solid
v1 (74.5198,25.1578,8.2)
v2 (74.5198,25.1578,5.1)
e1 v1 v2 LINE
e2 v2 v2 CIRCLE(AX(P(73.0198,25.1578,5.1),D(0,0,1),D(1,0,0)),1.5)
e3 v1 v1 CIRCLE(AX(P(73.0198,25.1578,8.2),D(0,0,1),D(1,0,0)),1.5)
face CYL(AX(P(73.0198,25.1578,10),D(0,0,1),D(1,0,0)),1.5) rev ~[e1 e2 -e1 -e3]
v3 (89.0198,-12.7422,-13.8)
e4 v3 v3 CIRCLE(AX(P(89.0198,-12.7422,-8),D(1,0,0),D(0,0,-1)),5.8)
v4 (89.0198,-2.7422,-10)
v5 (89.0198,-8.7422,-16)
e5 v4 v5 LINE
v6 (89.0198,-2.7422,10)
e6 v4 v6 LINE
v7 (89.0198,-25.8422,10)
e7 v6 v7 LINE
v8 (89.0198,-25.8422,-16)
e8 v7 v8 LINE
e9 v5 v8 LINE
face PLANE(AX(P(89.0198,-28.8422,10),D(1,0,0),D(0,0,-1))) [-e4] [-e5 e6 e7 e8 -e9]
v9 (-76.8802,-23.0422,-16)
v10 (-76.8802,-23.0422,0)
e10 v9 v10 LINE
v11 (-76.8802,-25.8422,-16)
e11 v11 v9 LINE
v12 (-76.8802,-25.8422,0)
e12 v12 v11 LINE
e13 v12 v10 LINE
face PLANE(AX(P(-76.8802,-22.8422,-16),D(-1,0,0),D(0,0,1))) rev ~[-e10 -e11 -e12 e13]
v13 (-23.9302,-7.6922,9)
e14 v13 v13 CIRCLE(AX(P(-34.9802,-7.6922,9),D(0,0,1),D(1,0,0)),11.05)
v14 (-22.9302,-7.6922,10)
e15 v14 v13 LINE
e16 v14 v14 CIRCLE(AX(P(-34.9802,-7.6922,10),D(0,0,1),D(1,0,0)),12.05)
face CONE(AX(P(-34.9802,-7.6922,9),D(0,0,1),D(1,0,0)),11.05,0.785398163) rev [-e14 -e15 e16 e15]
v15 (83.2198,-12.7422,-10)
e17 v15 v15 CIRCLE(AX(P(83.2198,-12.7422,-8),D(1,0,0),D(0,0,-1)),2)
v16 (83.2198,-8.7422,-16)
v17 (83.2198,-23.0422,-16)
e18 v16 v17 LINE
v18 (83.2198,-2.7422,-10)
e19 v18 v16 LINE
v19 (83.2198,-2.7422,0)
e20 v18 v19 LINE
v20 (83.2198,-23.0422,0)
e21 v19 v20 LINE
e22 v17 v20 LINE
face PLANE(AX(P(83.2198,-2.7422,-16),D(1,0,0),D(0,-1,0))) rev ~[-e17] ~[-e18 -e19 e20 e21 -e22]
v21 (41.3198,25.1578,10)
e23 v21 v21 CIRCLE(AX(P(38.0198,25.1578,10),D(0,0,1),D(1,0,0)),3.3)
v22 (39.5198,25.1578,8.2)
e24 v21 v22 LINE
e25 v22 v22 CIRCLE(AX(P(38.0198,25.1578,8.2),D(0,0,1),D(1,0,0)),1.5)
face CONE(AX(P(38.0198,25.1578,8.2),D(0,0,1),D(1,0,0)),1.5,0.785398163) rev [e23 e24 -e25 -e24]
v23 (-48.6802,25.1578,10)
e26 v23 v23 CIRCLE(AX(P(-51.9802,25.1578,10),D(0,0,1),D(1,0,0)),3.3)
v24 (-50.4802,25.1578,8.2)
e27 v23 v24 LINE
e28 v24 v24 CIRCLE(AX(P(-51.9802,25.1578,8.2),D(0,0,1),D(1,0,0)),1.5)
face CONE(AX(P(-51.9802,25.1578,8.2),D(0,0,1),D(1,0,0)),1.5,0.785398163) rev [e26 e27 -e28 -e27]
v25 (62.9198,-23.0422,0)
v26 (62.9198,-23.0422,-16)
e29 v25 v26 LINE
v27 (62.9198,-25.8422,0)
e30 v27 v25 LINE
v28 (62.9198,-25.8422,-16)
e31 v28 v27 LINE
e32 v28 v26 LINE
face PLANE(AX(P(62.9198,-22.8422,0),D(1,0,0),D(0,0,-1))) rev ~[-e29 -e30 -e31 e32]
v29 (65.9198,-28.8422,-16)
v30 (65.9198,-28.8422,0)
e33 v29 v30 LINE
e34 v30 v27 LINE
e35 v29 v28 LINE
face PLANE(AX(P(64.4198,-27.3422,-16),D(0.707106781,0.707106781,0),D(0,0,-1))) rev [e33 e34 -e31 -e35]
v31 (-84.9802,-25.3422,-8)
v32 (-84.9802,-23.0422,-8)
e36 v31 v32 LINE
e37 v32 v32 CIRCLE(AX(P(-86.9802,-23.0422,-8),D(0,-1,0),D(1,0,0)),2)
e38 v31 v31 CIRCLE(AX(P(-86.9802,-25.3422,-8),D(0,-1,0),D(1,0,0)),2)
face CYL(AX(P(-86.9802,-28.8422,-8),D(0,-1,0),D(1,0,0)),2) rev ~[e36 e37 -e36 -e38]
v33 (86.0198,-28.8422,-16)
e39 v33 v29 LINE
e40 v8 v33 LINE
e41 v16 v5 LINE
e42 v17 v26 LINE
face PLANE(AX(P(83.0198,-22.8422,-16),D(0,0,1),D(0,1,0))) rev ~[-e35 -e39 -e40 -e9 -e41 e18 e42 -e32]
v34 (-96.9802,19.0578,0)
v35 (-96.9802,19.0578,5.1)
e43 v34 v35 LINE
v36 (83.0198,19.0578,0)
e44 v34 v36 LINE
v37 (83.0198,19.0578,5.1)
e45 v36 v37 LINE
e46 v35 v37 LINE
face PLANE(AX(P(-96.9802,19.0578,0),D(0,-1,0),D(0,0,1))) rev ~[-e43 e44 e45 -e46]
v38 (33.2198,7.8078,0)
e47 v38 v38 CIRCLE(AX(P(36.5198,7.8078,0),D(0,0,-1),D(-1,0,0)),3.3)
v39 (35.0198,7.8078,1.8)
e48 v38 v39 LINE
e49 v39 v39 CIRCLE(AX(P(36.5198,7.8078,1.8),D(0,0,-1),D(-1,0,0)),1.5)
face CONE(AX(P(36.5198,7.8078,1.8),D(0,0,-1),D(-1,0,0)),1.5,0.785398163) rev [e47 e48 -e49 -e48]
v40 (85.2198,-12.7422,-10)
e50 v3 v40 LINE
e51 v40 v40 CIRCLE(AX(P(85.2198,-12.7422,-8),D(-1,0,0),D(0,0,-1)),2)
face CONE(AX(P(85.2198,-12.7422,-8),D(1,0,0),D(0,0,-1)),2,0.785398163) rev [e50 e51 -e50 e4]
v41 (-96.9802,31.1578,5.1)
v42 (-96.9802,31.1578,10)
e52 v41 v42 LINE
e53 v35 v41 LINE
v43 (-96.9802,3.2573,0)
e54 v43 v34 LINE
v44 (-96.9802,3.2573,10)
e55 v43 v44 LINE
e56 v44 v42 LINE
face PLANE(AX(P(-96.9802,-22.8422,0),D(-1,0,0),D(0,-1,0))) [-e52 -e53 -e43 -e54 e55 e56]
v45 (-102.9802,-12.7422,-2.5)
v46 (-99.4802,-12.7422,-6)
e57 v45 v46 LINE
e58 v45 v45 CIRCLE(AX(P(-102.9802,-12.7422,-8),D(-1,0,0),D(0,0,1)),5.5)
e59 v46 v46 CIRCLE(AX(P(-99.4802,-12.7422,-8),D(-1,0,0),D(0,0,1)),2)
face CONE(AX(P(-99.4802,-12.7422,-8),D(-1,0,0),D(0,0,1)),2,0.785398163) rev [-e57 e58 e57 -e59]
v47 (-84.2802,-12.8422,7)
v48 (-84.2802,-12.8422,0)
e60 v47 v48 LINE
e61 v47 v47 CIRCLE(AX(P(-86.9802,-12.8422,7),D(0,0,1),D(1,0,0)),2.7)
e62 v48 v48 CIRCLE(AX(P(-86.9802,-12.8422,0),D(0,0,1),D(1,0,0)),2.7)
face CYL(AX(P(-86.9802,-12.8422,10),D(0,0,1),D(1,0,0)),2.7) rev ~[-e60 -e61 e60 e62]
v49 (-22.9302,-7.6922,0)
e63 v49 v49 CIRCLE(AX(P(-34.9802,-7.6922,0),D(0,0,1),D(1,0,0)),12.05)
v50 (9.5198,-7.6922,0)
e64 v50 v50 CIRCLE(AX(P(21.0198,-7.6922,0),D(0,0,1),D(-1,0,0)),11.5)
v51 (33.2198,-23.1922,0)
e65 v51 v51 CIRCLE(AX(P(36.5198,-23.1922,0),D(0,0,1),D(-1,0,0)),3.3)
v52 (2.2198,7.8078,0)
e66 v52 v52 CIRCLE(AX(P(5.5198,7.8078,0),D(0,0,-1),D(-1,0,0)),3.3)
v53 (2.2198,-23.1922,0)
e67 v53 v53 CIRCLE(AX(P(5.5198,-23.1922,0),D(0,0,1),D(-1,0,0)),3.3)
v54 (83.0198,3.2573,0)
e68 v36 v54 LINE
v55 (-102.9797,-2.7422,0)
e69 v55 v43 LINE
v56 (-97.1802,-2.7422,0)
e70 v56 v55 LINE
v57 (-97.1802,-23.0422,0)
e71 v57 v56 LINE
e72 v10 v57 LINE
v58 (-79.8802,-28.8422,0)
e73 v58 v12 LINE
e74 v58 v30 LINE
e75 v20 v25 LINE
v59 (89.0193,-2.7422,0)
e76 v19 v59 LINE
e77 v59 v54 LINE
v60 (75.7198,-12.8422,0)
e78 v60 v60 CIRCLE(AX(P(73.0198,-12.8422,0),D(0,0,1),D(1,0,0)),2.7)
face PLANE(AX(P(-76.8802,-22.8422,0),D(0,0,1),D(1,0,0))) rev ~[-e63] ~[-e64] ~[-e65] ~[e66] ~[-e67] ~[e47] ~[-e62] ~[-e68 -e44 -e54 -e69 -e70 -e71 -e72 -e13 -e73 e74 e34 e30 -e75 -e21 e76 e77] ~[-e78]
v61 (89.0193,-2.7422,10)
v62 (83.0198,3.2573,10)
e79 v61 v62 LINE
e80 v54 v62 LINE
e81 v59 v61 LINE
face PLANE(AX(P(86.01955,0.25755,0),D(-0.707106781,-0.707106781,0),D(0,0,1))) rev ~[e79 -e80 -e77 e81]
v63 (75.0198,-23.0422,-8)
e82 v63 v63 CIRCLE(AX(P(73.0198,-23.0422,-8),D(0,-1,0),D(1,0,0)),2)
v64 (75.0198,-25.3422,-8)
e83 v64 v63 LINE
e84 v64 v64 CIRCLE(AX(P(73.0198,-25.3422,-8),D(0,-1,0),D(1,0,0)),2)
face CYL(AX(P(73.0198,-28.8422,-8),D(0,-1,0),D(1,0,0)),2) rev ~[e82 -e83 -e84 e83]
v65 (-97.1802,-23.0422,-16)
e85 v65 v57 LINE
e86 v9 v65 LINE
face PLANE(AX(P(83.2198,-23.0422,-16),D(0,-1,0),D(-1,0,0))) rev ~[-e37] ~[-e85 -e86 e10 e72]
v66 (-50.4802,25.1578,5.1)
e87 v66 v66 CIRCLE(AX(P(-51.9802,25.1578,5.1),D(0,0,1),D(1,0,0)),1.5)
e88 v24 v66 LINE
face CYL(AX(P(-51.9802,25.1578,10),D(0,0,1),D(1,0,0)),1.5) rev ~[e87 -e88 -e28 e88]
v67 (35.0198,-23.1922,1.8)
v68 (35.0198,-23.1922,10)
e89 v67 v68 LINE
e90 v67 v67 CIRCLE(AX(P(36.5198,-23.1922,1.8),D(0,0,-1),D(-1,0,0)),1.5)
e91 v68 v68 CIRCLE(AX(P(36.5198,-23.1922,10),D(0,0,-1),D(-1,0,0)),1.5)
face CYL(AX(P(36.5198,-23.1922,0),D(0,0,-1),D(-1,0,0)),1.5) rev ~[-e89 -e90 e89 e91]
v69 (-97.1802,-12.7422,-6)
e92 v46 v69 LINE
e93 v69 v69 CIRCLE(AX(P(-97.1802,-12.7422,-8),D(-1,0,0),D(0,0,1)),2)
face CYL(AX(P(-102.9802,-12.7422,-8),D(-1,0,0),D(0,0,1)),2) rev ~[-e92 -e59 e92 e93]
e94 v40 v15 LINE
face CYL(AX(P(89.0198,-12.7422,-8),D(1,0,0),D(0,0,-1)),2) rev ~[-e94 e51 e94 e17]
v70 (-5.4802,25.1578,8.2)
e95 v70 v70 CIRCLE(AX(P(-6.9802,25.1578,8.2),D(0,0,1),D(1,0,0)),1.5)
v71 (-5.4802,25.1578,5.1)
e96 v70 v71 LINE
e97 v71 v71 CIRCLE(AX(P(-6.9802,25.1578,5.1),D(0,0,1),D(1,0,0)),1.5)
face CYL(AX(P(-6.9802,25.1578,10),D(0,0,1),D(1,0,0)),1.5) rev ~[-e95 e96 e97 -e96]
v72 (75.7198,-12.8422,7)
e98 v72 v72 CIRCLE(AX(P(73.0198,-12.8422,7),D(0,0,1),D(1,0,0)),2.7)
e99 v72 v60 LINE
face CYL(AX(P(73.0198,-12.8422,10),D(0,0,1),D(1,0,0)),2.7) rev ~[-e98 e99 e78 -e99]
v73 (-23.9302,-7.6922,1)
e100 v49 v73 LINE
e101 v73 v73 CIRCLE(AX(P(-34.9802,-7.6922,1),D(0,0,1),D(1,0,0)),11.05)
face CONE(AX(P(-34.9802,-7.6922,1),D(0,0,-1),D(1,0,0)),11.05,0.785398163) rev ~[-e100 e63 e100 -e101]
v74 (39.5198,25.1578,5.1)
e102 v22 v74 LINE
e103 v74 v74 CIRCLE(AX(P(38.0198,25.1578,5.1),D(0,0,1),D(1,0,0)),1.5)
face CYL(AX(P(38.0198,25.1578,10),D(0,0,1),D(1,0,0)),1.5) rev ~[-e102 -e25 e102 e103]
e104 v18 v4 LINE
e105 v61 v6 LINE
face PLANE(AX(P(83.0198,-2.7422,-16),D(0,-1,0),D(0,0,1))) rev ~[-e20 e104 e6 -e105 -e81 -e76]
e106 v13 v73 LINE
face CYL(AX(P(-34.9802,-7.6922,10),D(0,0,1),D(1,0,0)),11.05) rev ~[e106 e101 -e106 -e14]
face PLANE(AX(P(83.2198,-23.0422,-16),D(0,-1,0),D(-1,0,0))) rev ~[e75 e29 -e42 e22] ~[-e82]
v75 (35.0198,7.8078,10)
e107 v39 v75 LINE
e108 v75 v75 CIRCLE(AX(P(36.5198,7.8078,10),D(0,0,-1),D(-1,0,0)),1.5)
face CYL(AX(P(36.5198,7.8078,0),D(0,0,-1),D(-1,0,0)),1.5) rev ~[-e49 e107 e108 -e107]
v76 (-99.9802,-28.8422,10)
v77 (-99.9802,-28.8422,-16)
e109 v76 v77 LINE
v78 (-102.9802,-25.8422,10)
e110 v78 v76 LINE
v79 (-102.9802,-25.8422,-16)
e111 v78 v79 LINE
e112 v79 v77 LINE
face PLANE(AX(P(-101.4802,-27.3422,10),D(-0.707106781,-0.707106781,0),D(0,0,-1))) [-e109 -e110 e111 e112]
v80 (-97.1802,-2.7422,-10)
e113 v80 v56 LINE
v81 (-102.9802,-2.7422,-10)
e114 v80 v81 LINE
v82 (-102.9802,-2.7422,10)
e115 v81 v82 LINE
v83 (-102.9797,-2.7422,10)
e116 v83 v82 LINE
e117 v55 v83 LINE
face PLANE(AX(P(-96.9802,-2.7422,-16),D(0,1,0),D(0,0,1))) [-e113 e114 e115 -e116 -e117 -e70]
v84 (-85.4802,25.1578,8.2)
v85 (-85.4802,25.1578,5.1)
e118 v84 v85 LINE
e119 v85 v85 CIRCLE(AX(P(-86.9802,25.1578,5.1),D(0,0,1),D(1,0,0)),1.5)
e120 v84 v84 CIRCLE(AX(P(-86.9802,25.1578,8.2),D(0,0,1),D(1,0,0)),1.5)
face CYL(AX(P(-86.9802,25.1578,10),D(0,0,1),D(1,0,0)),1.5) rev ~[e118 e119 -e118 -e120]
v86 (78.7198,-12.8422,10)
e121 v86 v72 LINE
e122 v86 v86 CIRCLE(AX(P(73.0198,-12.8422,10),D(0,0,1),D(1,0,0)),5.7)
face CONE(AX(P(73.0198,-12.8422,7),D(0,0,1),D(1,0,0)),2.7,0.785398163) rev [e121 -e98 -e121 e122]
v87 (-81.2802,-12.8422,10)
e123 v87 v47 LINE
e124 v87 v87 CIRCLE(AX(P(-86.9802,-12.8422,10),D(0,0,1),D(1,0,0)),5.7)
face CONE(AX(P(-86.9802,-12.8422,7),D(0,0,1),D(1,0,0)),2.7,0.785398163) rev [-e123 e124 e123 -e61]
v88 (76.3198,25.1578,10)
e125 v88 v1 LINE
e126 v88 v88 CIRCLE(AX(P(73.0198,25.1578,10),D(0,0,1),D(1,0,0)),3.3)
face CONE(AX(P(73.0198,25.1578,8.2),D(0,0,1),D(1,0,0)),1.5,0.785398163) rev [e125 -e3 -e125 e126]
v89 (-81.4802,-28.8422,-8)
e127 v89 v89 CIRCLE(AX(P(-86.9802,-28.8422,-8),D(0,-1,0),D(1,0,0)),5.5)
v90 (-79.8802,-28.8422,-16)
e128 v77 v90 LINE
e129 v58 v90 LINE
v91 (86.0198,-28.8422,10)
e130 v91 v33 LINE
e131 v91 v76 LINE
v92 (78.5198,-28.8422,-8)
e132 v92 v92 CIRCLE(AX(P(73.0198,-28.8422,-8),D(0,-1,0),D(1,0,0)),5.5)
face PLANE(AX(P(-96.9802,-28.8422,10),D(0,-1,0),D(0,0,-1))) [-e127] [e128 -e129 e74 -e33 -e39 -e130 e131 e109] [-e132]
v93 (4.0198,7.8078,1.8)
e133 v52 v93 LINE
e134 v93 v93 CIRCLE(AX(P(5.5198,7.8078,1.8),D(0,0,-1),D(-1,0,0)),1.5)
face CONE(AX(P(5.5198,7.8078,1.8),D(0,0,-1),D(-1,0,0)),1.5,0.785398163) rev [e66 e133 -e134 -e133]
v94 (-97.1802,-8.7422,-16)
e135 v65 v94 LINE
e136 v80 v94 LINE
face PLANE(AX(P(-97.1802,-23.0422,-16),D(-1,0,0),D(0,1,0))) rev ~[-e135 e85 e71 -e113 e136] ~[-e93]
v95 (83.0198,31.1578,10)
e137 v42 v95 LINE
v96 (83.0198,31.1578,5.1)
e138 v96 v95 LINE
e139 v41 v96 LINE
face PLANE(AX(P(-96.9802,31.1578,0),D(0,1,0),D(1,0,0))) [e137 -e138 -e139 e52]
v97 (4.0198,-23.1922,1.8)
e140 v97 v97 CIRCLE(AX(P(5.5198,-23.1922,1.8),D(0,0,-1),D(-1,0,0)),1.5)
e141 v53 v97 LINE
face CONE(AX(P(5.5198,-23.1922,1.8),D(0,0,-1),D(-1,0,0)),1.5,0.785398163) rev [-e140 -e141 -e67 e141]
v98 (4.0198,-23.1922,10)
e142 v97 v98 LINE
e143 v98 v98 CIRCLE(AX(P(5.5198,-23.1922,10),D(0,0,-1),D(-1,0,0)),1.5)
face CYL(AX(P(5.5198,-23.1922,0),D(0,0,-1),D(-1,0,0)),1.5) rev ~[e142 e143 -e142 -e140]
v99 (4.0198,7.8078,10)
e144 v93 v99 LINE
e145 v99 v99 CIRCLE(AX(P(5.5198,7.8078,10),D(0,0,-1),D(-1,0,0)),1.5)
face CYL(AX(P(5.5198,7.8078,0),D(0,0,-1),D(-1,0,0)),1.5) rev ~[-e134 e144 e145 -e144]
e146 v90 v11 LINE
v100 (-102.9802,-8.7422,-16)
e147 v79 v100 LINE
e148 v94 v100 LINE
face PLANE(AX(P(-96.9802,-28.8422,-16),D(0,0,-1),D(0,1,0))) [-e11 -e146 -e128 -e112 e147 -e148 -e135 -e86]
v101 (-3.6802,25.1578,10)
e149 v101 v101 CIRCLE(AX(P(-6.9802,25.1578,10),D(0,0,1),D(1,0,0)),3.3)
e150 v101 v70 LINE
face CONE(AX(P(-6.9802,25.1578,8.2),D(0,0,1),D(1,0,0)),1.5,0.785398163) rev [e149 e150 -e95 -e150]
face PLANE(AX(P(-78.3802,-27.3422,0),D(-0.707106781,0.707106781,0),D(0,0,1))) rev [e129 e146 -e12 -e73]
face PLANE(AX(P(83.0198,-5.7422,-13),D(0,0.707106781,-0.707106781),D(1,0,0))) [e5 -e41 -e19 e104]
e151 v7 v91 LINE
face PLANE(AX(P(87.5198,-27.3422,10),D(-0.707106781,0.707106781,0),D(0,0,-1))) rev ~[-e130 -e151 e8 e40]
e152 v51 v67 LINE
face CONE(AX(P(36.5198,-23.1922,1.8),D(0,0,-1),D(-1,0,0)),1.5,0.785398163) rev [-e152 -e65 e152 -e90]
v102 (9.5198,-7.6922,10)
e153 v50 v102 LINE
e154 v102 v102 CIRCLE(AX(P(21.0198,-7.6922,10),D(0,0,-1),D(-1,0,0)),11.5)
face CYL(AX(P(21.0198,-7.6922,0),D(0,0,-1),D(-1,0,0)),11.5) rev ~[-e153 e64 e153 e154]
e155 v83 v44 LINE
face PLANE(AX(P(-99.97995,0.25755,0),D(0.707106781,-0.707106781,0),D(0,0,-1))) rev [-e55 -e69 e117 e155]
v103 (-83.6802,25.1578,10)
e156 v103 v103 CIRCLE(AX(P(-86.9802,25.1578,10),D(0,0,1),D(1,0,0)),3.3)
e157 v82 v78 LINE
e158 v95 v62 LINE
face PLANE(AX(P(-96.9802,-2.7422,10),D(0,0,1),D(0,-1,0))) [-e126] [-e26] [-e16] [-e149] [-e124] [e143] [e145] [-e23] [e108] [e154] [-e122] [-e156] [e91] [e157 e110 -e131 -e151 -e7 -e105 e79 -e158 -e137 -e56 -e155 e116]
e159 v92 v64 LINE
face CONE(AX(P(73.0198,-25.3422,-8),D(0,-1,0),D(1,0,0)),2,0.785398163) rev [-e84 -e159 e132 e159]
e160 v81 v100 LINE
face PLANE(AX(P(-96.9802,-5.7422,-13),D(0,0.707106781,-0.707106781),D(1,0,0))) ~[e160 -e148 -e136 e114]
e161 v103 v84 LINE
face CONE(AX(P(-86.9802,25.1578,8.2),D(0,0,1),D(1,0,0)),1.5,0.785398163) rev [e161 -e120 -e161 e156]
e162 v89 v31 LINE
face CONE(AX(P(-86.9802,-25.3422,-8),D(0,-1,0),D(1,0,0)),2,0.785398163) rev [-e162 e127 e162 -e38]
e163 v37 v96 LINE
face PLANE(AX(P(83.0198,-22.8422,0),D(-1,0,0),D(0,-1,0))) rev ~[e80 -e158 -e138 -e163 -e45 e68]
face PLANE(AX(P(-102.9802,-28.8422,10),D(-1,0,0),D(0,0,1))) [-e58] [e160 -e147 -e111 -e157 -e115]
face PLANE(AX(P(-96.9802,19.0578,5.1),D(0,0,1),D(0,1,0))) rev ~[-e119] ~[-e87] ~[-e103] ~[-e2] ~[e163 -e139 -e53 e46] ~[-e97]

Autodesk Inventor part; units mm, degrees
ref_plane "YZ Plane" through (0, 0, 0) normal (1, 0, 0) x (0, 1, 0)
ref_plane "XZ Plane" through (0, 0, 0) normal (0, 1, 0) x (-1, 0, 0)
ref_plane "XY Plane" through (0, 0, 0) normal (0, 0, 1) x (1, 0, 0)
sketch "Sketch1" plane through (0, 0, 0) normal (0, 0, 1) x (1, 0, 0)
  line L0 (-96.9802, 31.1578) -> (83.0198, 31.1578)
  line L1 (83.0198, 31.1578) -> (83.0198, -28.8422)
  line L2 (83.0198, -28.8422) -> (-96.9802, -28.8422)
  line L3 (-96.9802, -28.8422) -> (-96.9802, 31.1578)
  point P0 (0, 0)
  dimension "d0" = 180
  dimension "d1" = 60
extrude "Extrusion1" add sketch "Sketch1" along normal blind 10
sketch "Sketch4" plane through (0, 0, 0) normal (0, 0, -1) x (-1, 0, 0)
  circle A0 centre (-21.0198, -7.6922) radius 11.5
  line L0 (96.9802, -28.8422) -> (-83.0198, -28.8422) projected
  line L1 (-83.0198, -28.8422) -> (-83.0198, 31.1578) projected
  point P0 (0, 0)
  dimension "d16" = 23
  dimension "d17" = 21.15
  dimension "d18" = 62
extrude "Extrusion4" cut sketch "Sketch4" against normal through all
sketch "Sketch5" plane through (0, 0, 0) normal (0, 0, -1) x (-1, 0, 0)
  line L0 (96.9802, -28.8422) -> (-83.0198, -28.8422) projected
  line L1 (96.9802, 31.1578) -> (96.9802, -28.8422) projected
  line L2 (-83.0198, -28.8422) -> (96.9802, -28.8422)
  line L3 (96.9802, -28.8422) -> (96.9802, -22.8422)
  line L4 (96.9802, -22.8422) -> (-83.0198, -22.8422)
  line L5 (-83.0198, -22.8422) -> (-83.0198, -28.8422)
  point P0 (0, 0)
  dimension "d21" = 6
extrude "Extrusion5" add sketch "Sketch5" along normal blind 16
sketch "Sketch6" plane through (-96.9802, -22.8422, 0) normal (0, 1, 0) x (1, 0, 0)
  line L0 (180, 16) -> (0, 16) projected
  line L1 (180, 0) -> (0, 0) projected
  line L2 (165.9, 16) -> (159.9, 16)
  line L3 (159.9, 16) -> (159.9, 0)
  line L4 (159.9, 0) -> (165.9, 0)
  line L5 (165.9, 0) -> (165.9, 16)
  line L6 (14.1, 16) -> (20.1, 16)
  line L7 (20.1, 16) -> (20.1, 0)
  line L8 (20.1, 0) -> (14.1, 0)
  line L9 (14.1, 0) -> (14.1, 16)
  line L10 (0, 0) -> (0, 16) projected
  line L11 (180, 0) -> (180, 16) projected
  point P0 (96.9802, 0)
  point P1 (14.1, 16)
  point P2 (14.1, 0)
  point P3 (20.1, 16)
  point P4 (165.9, 0)
  dimension "d24" = 14.1
  dimension "d25" = 6
  dimension "d26" = 14.1
  dimension "d27" = 6
extrude "Extrusion6" add sketch "Sketch6" along normal blind 20 contours L5 L1 L3 L0 | L7 L1 L9 L0
sketch "Sketch7" plane through (-76.8802, -22.8422, 0) normal (0, 1, 0) x (1, 0, 0)
  line L0 (0, 16) -> (139.8, 16) projected
  line L1 (0, 16) -> (0, 0) projected
  line L2 (139.8, 16) -> (0, 16)
  line L3 (0, 16) -> (0, 0)
  line L4 (0, 0) -> (139.8, 0)
  line L5 (139.8, 0) -> (139.8, 16)
  point P0 (76.8802, 0)
extrude "Extrusion7" cut sketch "Sketch7" against normal through all
chamfer "Chamfer1" distance 3 angle 45 2 edges at (62.9198, -28.8422, -8) (-76.8802, -28.8422, -8)
sketch "Sketch8" plane through (0, 0, 10) normal (0, 0, 1) x (1, 0, 0)
  circle A0 centre (-34.9802, -7.6922) radius 11.05
  line L0 (-96.9802, -28.8422) -> (83.0198, -28.8422) projected
  line L1 (-96.9802, 31.1578) -> (-96.9802, -28.8422) projected
  point P0 (0, 0)
  dimension "d35" = 22.1
  dimension "d36" = 21.15
  dimension "d37" = 62
extrude "Extrusion8" cut sketch "Sketch8" against normal through all
chamfer "Chamfer2" distance 1 angle 45 2 edges at (-46.0302, -7.6922, 10) (-46.0302, -7.6922, 0)
sketch "Sketch9" plane through (-96.9802, -28.8422, 10) normal (0, -1, 0) x (1, 0, 0)
  circle A0 centre (10, -18) radius 2
  circle A1 centre (170, -18) radius 2
  line L0 (180, -26) -> (180, 0) projected
  line L1 (0, 0) -> (0, -26) projected
  line L2 (17.1, -26) -> (0, -26) projected
  line L3 (180, -26) -> (162.9, -26) projected
  point P0 (96.9802, -10)
  dimension "d43" = 4
  dimension "d44" = 10
  dimension "d45" = 4
  dimension "d46" = 10
  dimension "d47" = 8
  dimension "d48" = 8
extrude "Extrusion9" cut sketch "Sketch9" against normal through all
chamfer "Chamfer3" distance 3.5 angle 45 2 edges at (71.0198, -28.8422, -8) (-88.9802, -28.8422, -8)
sketch "Sketch10" plane through (0, 0, 10) normal (0, 0, 1) x (1, 0, 0)
  circle A0 centre (-86.9802, 25.1578) radius 1.5
  circle A1 centre (-51.9802, 25.1578) radius 1.5
  circle A2 centre (-6.9802, 25.1578) radius 1.5
  circle A3 centre (38.0198, 25.1578) radius 1.5
  circle A4 centre (73.0198, 25.1578) radius 1.5
  line L0 (83.0198, 31.1578) -> (-96.9802, 31.1578) projected
  line L1 (83.0198, -28.8422) -> (83.0198, 31.1578) projected
  line L2 (-96.9802, 31.1578) -> (-96.9802, -28.8422) projected
  point P0 (0, 0)
  dimension "d54" = 3
  dimension "d55" = 3
  dimension "d56" = 3
  dimension "d57" = 3
  dimension "d58" = 3
  dimension "d59" = 6
  dimension "d60" = 6
  dimension "d61" = 6
  dimension "d62" = 6
  dimension "d63" = 6
  dimension "d64" = 10
  dimension "d65" = 10
  dimension "d66" = 35
  dimension "d67" = 35
  dimension "d68" = 90
extrude "Extrusion10" cut sketch "Sketch10" against normal through all
chamfer "Chamfer4" distance 1.8 angle 45 5 edges at (-88.4802, 25.1578, 10) (-53.4802, 25.1578, 10) (-8.4802, 25.1578, 10) (36.5198, 25.1578, 10) (71.5198, 25.1578, 10)
sketch "Sketch11" plane through (-96.9802, -22.8422, -16) normal (-1, 0, 0) x (0, 0, 1)
  circle A0 centre (8, 10) radius 2
  line L0 (16, 0) -> (0, 0) projected
  line L1 (0, 0) -> (0, 20) projected
  point P0 (16, 22.8422)
  dimension "d77" = 4
  dimension "d78" = 10
  dimension "d79" = 8
extrude "Extrusion11" cut sketch "Sketch11" against normal through all
chamfer "Chamfer6" distance 3 angle 45 2 edges at (62.9198, -12.8422, -10) (-76.8802, -12.8422, -10)
sketch "Sketch12" plane through (0, 0, 0) normal (0, 0, -1) x (-1, 0, 0)
  circle A0 centre (-36.5198, 7.8078) radius 1.5
  circle A1 centre (-5.5198, 7.8078) radius 1.5
  circle A2 centre (-5.5198, -23.1922) radius 1.5
  circle A3 centre (-36.5198, -23.1922) radius 1.5
  circle A4 centre (-21.0198, -7.6922) radius 11.5 projected
  point P0 (0, 0)
  dimension "d85" = 3
  dimension "d86" = 3
  dimension "d87" = 3
  dimension "d88" = 3
  dimension "d89" = 15.5
  dimension "d90" = 15.5
  dimension "d91" = 15.5
  dimension "d93" = 15.5
  dimension "d94" = 15.5
  dimension "d95" = 15.5
  dimension "d96" = 31
  dimension "d97" = 15.5
extrude "Extrusion12" cut sketch "Sketch12" against normal through all contours A0 | A1 | A2 | A3
chamfer "Chamfer7" distance 1.8 angle 45 4 edges at (38.0198, 7.8078, 0) (7.0198, 7.8078, 0) (7.0198, -23.1922, 0) (38.0198, -23.1922, 0)
sketch "Sketch13" plane through (-96.9802, -22.8422, -16) normal (-1, 0, 0) x (0, 0, 1)
  line L0 (16, 0) -> (16, 54) projected
  line L1 (16, 41.9) -> (21.1, 41.9)
  line L2 (21.1, 41.9) -> (21.1, 54)
  line L3 (21.1, 54) -> (16, 54)
  line L4 (16, 54) -> (16, 41.9)
  line L5 (26, 54) -> (16, 54) projected
  point P0 (16, 22.8422)
  point P1 (16, 52)
  point P2 (16, 52)
  dimension "d103" = 12.1
  dimension "d104" = 12.1
  dimension "d105" = 5.1
extrude "Extrusion13" cut sketch "Sketch13" against normal through all
sketch "Sketch14" plane through (68.9198, -22.8422, 0) normal (1, 0, 0) x (0, 0, -1)
  line L0 (16, 20) -> (0, 20) projected
  line L1 (0, 0) -> (16, 0) projected
  line L2 (0, 20) -> (16, 20)
  line L3 (16, 20) -> (16, 0)
  line L4 (16, 0) -> (0, 0)
  line L5 (0, 0) -> (0, 20)
  point P0 (0, 22.8422)
  point P1 (16, 20)
  point P2 (0, 0)
extrude "Extrusion14" cut sketch "Sketch14" against normal through all
sketch "Sketch15" plane through (83.0198, -28.8422, 10) normal (1, 0, 0) x (0, 0, -1)
  line L0 (0, 60) -> (0, 0) projected
  line L1 (0, 0) -> (26, 0)
  line L2 (26, 0) -> (26, 26.1)
  line L3 (26, 26.1) -> (0, 26.1)
  line L4 (0, 26.1) -> (0, 0)
  line L5 (10, 6) -> (26, 6) projected
  point P0 (10, 28.8422)
  point P1 (0, 26.1)
  dimension "d110" = 20.1
  dimension "d111" = 26
extrude "Extrusion15" add sketch "Sketch15" along normal blind 6
chamfer "Chamfer8" distance 6 angle 45 1 edges at (83.0198, -2.7422, 5)
chamfer "Chamfer9" distance 3 angle 45 1 edges at (89.0198, -28.8422, -3)
sketch "Sketch16" plane through (89.0198, -28.8422, 10) normal (1, 0, 0) x (0, 0, -1)
  circle A0 centre (18, 16.1) radius 2
  line L0 (26, 26.1) -> (10, 26.1) projected
  line L1 (26, 0) -> (26, 26.1) projected
  point P0 (10, 28.8422)
  point P1 (23, 26.1)
  dimension "d123" = 4
  dimension "d124" = 10
  dimension "d125" = 8
extrude "Extrusion16" cut sketch "Sketch16" against normal through all
chamfer "Chamfer11" distance 3.8 angle 45 1 edges at (89.0198, -12.7422, -6)
chamfer "Chamfer12" distance 6 angle 45 1 edges at (86.0198, -2.7422, -16)
sketch "Sketch17" plane through (-96.9802, -28.8422, 10) normal (-1, 0, 0) x (0, 0, 1)
  line L0 (0, 0) -> (-26, 0) projected
  line L1 (0, 0) -> (-26, 0)
  line L2 (-26, 0) -> (-26, 26.1)
  line L3 (-26, 26.1) -> (0, 26.1)
  line L4 (0, 26.1) -> (0, 0)
  point P0 (-10, 28.8422)
  dimension "d134" = 26
  dimension "d135" = 26.1
extrude "Extrusion17" add sketch "Sketch17" along normal blind 6
chamfer "Chamfer13" distance 6 angle 45 1 edges at (-96.9802, -2.7422, 5)
chamfer "Chamfer14" distance 3 angle 45 1 edges at (-102.9802, -28.8422, -3)
chamfer "Chamfer15" distance 6 angle 45 1 edges at (-99.9802, -2.7422, -16)
sketch "Sketch18" plane through (-102.9802, -28.8422, 10) normal (-1, 0, 0) x (0, 0, 1)
  circle A0 centre (-18, 16.1) radius 2 projected
  circle A1 centre (-18, 16.1) radius 2
  point P0 (-10, 28.8422)
extrude "Extrusion18" cut sketch "Sketch18" against normal through all
chamfer "Chamfer16" distance 3.5 angle 45 1 edges at (-102.9802, -12.7422, -10)
sketch "Sketch19" plane through (0, 0, 10) normal (0, 0, 1) x (1, 0, 0)
  circle A0 centre (-86.9802, -12.8422) radius 2.7
  circle A1 centre (73.0198, -12.8422) radius 2.7
  line L0 (-96.9802, 31.1578) -> (-96.9802, 3.2578) projected
  line L1 (86.0198, -28.8422) -> (-99.9802, -28.8422) projected
  line L2 (83.0198, 3.2578) -> (83.0198, 31.1578) projected
  point P0 (0, 0)
  dimension "d152" = 5.4
  dimension "d153" = 5.4
  dimension "d154" = 10
  dimension "d155" = 16
  dimension "d156" = 10
  dimension "d157" = 16
extrude "Extrusion19" cut sketch "Sketch19" against normal through all
sketch "Sketch20" plane through (0, 0, -16) normal (0, 0, -1) x (-1, 0, 0)
  line L0 (102.9802, -2.7422) -> (96.9802, -2.7422) projected
  line L1 (-83.2198, -23.0422) -> (97.1802, -23.0422)
  line L2 (97.1802, -23.0422) -> (97.1802, -2.7422)
  line L3 (97.1802, -2.7422) -> (-83.2198, -2.7422)
  line L4 (-83.2198, -2.7422) -> (-83.2198, -23.0422)
  line L5 (96.9802, -8.7422) -> (96.9802, -22.8422) projected
  line L6 (96.9802, -22.8422) -> (76.8802, -22.8422) projected
  line L7 (-83.0198, -22.8422) -> (-83.0198, -8.7422) projected
  point P0 (0, 0)
  dimension "d164" = 0.2
  dimension "d165" = 0.2
  dimension "d166" = 0.2
extrude "Extrusion20" cut sketch "Sketch20" against normal up to surface (16 mm away)
chamfer "Chamfer18" distance 3 angle 45 2 edges at (-89.6802, -12.8422, 10) (70.3198, -12.8422, 10)
properties part number "wall" material "ABS Plastic"
